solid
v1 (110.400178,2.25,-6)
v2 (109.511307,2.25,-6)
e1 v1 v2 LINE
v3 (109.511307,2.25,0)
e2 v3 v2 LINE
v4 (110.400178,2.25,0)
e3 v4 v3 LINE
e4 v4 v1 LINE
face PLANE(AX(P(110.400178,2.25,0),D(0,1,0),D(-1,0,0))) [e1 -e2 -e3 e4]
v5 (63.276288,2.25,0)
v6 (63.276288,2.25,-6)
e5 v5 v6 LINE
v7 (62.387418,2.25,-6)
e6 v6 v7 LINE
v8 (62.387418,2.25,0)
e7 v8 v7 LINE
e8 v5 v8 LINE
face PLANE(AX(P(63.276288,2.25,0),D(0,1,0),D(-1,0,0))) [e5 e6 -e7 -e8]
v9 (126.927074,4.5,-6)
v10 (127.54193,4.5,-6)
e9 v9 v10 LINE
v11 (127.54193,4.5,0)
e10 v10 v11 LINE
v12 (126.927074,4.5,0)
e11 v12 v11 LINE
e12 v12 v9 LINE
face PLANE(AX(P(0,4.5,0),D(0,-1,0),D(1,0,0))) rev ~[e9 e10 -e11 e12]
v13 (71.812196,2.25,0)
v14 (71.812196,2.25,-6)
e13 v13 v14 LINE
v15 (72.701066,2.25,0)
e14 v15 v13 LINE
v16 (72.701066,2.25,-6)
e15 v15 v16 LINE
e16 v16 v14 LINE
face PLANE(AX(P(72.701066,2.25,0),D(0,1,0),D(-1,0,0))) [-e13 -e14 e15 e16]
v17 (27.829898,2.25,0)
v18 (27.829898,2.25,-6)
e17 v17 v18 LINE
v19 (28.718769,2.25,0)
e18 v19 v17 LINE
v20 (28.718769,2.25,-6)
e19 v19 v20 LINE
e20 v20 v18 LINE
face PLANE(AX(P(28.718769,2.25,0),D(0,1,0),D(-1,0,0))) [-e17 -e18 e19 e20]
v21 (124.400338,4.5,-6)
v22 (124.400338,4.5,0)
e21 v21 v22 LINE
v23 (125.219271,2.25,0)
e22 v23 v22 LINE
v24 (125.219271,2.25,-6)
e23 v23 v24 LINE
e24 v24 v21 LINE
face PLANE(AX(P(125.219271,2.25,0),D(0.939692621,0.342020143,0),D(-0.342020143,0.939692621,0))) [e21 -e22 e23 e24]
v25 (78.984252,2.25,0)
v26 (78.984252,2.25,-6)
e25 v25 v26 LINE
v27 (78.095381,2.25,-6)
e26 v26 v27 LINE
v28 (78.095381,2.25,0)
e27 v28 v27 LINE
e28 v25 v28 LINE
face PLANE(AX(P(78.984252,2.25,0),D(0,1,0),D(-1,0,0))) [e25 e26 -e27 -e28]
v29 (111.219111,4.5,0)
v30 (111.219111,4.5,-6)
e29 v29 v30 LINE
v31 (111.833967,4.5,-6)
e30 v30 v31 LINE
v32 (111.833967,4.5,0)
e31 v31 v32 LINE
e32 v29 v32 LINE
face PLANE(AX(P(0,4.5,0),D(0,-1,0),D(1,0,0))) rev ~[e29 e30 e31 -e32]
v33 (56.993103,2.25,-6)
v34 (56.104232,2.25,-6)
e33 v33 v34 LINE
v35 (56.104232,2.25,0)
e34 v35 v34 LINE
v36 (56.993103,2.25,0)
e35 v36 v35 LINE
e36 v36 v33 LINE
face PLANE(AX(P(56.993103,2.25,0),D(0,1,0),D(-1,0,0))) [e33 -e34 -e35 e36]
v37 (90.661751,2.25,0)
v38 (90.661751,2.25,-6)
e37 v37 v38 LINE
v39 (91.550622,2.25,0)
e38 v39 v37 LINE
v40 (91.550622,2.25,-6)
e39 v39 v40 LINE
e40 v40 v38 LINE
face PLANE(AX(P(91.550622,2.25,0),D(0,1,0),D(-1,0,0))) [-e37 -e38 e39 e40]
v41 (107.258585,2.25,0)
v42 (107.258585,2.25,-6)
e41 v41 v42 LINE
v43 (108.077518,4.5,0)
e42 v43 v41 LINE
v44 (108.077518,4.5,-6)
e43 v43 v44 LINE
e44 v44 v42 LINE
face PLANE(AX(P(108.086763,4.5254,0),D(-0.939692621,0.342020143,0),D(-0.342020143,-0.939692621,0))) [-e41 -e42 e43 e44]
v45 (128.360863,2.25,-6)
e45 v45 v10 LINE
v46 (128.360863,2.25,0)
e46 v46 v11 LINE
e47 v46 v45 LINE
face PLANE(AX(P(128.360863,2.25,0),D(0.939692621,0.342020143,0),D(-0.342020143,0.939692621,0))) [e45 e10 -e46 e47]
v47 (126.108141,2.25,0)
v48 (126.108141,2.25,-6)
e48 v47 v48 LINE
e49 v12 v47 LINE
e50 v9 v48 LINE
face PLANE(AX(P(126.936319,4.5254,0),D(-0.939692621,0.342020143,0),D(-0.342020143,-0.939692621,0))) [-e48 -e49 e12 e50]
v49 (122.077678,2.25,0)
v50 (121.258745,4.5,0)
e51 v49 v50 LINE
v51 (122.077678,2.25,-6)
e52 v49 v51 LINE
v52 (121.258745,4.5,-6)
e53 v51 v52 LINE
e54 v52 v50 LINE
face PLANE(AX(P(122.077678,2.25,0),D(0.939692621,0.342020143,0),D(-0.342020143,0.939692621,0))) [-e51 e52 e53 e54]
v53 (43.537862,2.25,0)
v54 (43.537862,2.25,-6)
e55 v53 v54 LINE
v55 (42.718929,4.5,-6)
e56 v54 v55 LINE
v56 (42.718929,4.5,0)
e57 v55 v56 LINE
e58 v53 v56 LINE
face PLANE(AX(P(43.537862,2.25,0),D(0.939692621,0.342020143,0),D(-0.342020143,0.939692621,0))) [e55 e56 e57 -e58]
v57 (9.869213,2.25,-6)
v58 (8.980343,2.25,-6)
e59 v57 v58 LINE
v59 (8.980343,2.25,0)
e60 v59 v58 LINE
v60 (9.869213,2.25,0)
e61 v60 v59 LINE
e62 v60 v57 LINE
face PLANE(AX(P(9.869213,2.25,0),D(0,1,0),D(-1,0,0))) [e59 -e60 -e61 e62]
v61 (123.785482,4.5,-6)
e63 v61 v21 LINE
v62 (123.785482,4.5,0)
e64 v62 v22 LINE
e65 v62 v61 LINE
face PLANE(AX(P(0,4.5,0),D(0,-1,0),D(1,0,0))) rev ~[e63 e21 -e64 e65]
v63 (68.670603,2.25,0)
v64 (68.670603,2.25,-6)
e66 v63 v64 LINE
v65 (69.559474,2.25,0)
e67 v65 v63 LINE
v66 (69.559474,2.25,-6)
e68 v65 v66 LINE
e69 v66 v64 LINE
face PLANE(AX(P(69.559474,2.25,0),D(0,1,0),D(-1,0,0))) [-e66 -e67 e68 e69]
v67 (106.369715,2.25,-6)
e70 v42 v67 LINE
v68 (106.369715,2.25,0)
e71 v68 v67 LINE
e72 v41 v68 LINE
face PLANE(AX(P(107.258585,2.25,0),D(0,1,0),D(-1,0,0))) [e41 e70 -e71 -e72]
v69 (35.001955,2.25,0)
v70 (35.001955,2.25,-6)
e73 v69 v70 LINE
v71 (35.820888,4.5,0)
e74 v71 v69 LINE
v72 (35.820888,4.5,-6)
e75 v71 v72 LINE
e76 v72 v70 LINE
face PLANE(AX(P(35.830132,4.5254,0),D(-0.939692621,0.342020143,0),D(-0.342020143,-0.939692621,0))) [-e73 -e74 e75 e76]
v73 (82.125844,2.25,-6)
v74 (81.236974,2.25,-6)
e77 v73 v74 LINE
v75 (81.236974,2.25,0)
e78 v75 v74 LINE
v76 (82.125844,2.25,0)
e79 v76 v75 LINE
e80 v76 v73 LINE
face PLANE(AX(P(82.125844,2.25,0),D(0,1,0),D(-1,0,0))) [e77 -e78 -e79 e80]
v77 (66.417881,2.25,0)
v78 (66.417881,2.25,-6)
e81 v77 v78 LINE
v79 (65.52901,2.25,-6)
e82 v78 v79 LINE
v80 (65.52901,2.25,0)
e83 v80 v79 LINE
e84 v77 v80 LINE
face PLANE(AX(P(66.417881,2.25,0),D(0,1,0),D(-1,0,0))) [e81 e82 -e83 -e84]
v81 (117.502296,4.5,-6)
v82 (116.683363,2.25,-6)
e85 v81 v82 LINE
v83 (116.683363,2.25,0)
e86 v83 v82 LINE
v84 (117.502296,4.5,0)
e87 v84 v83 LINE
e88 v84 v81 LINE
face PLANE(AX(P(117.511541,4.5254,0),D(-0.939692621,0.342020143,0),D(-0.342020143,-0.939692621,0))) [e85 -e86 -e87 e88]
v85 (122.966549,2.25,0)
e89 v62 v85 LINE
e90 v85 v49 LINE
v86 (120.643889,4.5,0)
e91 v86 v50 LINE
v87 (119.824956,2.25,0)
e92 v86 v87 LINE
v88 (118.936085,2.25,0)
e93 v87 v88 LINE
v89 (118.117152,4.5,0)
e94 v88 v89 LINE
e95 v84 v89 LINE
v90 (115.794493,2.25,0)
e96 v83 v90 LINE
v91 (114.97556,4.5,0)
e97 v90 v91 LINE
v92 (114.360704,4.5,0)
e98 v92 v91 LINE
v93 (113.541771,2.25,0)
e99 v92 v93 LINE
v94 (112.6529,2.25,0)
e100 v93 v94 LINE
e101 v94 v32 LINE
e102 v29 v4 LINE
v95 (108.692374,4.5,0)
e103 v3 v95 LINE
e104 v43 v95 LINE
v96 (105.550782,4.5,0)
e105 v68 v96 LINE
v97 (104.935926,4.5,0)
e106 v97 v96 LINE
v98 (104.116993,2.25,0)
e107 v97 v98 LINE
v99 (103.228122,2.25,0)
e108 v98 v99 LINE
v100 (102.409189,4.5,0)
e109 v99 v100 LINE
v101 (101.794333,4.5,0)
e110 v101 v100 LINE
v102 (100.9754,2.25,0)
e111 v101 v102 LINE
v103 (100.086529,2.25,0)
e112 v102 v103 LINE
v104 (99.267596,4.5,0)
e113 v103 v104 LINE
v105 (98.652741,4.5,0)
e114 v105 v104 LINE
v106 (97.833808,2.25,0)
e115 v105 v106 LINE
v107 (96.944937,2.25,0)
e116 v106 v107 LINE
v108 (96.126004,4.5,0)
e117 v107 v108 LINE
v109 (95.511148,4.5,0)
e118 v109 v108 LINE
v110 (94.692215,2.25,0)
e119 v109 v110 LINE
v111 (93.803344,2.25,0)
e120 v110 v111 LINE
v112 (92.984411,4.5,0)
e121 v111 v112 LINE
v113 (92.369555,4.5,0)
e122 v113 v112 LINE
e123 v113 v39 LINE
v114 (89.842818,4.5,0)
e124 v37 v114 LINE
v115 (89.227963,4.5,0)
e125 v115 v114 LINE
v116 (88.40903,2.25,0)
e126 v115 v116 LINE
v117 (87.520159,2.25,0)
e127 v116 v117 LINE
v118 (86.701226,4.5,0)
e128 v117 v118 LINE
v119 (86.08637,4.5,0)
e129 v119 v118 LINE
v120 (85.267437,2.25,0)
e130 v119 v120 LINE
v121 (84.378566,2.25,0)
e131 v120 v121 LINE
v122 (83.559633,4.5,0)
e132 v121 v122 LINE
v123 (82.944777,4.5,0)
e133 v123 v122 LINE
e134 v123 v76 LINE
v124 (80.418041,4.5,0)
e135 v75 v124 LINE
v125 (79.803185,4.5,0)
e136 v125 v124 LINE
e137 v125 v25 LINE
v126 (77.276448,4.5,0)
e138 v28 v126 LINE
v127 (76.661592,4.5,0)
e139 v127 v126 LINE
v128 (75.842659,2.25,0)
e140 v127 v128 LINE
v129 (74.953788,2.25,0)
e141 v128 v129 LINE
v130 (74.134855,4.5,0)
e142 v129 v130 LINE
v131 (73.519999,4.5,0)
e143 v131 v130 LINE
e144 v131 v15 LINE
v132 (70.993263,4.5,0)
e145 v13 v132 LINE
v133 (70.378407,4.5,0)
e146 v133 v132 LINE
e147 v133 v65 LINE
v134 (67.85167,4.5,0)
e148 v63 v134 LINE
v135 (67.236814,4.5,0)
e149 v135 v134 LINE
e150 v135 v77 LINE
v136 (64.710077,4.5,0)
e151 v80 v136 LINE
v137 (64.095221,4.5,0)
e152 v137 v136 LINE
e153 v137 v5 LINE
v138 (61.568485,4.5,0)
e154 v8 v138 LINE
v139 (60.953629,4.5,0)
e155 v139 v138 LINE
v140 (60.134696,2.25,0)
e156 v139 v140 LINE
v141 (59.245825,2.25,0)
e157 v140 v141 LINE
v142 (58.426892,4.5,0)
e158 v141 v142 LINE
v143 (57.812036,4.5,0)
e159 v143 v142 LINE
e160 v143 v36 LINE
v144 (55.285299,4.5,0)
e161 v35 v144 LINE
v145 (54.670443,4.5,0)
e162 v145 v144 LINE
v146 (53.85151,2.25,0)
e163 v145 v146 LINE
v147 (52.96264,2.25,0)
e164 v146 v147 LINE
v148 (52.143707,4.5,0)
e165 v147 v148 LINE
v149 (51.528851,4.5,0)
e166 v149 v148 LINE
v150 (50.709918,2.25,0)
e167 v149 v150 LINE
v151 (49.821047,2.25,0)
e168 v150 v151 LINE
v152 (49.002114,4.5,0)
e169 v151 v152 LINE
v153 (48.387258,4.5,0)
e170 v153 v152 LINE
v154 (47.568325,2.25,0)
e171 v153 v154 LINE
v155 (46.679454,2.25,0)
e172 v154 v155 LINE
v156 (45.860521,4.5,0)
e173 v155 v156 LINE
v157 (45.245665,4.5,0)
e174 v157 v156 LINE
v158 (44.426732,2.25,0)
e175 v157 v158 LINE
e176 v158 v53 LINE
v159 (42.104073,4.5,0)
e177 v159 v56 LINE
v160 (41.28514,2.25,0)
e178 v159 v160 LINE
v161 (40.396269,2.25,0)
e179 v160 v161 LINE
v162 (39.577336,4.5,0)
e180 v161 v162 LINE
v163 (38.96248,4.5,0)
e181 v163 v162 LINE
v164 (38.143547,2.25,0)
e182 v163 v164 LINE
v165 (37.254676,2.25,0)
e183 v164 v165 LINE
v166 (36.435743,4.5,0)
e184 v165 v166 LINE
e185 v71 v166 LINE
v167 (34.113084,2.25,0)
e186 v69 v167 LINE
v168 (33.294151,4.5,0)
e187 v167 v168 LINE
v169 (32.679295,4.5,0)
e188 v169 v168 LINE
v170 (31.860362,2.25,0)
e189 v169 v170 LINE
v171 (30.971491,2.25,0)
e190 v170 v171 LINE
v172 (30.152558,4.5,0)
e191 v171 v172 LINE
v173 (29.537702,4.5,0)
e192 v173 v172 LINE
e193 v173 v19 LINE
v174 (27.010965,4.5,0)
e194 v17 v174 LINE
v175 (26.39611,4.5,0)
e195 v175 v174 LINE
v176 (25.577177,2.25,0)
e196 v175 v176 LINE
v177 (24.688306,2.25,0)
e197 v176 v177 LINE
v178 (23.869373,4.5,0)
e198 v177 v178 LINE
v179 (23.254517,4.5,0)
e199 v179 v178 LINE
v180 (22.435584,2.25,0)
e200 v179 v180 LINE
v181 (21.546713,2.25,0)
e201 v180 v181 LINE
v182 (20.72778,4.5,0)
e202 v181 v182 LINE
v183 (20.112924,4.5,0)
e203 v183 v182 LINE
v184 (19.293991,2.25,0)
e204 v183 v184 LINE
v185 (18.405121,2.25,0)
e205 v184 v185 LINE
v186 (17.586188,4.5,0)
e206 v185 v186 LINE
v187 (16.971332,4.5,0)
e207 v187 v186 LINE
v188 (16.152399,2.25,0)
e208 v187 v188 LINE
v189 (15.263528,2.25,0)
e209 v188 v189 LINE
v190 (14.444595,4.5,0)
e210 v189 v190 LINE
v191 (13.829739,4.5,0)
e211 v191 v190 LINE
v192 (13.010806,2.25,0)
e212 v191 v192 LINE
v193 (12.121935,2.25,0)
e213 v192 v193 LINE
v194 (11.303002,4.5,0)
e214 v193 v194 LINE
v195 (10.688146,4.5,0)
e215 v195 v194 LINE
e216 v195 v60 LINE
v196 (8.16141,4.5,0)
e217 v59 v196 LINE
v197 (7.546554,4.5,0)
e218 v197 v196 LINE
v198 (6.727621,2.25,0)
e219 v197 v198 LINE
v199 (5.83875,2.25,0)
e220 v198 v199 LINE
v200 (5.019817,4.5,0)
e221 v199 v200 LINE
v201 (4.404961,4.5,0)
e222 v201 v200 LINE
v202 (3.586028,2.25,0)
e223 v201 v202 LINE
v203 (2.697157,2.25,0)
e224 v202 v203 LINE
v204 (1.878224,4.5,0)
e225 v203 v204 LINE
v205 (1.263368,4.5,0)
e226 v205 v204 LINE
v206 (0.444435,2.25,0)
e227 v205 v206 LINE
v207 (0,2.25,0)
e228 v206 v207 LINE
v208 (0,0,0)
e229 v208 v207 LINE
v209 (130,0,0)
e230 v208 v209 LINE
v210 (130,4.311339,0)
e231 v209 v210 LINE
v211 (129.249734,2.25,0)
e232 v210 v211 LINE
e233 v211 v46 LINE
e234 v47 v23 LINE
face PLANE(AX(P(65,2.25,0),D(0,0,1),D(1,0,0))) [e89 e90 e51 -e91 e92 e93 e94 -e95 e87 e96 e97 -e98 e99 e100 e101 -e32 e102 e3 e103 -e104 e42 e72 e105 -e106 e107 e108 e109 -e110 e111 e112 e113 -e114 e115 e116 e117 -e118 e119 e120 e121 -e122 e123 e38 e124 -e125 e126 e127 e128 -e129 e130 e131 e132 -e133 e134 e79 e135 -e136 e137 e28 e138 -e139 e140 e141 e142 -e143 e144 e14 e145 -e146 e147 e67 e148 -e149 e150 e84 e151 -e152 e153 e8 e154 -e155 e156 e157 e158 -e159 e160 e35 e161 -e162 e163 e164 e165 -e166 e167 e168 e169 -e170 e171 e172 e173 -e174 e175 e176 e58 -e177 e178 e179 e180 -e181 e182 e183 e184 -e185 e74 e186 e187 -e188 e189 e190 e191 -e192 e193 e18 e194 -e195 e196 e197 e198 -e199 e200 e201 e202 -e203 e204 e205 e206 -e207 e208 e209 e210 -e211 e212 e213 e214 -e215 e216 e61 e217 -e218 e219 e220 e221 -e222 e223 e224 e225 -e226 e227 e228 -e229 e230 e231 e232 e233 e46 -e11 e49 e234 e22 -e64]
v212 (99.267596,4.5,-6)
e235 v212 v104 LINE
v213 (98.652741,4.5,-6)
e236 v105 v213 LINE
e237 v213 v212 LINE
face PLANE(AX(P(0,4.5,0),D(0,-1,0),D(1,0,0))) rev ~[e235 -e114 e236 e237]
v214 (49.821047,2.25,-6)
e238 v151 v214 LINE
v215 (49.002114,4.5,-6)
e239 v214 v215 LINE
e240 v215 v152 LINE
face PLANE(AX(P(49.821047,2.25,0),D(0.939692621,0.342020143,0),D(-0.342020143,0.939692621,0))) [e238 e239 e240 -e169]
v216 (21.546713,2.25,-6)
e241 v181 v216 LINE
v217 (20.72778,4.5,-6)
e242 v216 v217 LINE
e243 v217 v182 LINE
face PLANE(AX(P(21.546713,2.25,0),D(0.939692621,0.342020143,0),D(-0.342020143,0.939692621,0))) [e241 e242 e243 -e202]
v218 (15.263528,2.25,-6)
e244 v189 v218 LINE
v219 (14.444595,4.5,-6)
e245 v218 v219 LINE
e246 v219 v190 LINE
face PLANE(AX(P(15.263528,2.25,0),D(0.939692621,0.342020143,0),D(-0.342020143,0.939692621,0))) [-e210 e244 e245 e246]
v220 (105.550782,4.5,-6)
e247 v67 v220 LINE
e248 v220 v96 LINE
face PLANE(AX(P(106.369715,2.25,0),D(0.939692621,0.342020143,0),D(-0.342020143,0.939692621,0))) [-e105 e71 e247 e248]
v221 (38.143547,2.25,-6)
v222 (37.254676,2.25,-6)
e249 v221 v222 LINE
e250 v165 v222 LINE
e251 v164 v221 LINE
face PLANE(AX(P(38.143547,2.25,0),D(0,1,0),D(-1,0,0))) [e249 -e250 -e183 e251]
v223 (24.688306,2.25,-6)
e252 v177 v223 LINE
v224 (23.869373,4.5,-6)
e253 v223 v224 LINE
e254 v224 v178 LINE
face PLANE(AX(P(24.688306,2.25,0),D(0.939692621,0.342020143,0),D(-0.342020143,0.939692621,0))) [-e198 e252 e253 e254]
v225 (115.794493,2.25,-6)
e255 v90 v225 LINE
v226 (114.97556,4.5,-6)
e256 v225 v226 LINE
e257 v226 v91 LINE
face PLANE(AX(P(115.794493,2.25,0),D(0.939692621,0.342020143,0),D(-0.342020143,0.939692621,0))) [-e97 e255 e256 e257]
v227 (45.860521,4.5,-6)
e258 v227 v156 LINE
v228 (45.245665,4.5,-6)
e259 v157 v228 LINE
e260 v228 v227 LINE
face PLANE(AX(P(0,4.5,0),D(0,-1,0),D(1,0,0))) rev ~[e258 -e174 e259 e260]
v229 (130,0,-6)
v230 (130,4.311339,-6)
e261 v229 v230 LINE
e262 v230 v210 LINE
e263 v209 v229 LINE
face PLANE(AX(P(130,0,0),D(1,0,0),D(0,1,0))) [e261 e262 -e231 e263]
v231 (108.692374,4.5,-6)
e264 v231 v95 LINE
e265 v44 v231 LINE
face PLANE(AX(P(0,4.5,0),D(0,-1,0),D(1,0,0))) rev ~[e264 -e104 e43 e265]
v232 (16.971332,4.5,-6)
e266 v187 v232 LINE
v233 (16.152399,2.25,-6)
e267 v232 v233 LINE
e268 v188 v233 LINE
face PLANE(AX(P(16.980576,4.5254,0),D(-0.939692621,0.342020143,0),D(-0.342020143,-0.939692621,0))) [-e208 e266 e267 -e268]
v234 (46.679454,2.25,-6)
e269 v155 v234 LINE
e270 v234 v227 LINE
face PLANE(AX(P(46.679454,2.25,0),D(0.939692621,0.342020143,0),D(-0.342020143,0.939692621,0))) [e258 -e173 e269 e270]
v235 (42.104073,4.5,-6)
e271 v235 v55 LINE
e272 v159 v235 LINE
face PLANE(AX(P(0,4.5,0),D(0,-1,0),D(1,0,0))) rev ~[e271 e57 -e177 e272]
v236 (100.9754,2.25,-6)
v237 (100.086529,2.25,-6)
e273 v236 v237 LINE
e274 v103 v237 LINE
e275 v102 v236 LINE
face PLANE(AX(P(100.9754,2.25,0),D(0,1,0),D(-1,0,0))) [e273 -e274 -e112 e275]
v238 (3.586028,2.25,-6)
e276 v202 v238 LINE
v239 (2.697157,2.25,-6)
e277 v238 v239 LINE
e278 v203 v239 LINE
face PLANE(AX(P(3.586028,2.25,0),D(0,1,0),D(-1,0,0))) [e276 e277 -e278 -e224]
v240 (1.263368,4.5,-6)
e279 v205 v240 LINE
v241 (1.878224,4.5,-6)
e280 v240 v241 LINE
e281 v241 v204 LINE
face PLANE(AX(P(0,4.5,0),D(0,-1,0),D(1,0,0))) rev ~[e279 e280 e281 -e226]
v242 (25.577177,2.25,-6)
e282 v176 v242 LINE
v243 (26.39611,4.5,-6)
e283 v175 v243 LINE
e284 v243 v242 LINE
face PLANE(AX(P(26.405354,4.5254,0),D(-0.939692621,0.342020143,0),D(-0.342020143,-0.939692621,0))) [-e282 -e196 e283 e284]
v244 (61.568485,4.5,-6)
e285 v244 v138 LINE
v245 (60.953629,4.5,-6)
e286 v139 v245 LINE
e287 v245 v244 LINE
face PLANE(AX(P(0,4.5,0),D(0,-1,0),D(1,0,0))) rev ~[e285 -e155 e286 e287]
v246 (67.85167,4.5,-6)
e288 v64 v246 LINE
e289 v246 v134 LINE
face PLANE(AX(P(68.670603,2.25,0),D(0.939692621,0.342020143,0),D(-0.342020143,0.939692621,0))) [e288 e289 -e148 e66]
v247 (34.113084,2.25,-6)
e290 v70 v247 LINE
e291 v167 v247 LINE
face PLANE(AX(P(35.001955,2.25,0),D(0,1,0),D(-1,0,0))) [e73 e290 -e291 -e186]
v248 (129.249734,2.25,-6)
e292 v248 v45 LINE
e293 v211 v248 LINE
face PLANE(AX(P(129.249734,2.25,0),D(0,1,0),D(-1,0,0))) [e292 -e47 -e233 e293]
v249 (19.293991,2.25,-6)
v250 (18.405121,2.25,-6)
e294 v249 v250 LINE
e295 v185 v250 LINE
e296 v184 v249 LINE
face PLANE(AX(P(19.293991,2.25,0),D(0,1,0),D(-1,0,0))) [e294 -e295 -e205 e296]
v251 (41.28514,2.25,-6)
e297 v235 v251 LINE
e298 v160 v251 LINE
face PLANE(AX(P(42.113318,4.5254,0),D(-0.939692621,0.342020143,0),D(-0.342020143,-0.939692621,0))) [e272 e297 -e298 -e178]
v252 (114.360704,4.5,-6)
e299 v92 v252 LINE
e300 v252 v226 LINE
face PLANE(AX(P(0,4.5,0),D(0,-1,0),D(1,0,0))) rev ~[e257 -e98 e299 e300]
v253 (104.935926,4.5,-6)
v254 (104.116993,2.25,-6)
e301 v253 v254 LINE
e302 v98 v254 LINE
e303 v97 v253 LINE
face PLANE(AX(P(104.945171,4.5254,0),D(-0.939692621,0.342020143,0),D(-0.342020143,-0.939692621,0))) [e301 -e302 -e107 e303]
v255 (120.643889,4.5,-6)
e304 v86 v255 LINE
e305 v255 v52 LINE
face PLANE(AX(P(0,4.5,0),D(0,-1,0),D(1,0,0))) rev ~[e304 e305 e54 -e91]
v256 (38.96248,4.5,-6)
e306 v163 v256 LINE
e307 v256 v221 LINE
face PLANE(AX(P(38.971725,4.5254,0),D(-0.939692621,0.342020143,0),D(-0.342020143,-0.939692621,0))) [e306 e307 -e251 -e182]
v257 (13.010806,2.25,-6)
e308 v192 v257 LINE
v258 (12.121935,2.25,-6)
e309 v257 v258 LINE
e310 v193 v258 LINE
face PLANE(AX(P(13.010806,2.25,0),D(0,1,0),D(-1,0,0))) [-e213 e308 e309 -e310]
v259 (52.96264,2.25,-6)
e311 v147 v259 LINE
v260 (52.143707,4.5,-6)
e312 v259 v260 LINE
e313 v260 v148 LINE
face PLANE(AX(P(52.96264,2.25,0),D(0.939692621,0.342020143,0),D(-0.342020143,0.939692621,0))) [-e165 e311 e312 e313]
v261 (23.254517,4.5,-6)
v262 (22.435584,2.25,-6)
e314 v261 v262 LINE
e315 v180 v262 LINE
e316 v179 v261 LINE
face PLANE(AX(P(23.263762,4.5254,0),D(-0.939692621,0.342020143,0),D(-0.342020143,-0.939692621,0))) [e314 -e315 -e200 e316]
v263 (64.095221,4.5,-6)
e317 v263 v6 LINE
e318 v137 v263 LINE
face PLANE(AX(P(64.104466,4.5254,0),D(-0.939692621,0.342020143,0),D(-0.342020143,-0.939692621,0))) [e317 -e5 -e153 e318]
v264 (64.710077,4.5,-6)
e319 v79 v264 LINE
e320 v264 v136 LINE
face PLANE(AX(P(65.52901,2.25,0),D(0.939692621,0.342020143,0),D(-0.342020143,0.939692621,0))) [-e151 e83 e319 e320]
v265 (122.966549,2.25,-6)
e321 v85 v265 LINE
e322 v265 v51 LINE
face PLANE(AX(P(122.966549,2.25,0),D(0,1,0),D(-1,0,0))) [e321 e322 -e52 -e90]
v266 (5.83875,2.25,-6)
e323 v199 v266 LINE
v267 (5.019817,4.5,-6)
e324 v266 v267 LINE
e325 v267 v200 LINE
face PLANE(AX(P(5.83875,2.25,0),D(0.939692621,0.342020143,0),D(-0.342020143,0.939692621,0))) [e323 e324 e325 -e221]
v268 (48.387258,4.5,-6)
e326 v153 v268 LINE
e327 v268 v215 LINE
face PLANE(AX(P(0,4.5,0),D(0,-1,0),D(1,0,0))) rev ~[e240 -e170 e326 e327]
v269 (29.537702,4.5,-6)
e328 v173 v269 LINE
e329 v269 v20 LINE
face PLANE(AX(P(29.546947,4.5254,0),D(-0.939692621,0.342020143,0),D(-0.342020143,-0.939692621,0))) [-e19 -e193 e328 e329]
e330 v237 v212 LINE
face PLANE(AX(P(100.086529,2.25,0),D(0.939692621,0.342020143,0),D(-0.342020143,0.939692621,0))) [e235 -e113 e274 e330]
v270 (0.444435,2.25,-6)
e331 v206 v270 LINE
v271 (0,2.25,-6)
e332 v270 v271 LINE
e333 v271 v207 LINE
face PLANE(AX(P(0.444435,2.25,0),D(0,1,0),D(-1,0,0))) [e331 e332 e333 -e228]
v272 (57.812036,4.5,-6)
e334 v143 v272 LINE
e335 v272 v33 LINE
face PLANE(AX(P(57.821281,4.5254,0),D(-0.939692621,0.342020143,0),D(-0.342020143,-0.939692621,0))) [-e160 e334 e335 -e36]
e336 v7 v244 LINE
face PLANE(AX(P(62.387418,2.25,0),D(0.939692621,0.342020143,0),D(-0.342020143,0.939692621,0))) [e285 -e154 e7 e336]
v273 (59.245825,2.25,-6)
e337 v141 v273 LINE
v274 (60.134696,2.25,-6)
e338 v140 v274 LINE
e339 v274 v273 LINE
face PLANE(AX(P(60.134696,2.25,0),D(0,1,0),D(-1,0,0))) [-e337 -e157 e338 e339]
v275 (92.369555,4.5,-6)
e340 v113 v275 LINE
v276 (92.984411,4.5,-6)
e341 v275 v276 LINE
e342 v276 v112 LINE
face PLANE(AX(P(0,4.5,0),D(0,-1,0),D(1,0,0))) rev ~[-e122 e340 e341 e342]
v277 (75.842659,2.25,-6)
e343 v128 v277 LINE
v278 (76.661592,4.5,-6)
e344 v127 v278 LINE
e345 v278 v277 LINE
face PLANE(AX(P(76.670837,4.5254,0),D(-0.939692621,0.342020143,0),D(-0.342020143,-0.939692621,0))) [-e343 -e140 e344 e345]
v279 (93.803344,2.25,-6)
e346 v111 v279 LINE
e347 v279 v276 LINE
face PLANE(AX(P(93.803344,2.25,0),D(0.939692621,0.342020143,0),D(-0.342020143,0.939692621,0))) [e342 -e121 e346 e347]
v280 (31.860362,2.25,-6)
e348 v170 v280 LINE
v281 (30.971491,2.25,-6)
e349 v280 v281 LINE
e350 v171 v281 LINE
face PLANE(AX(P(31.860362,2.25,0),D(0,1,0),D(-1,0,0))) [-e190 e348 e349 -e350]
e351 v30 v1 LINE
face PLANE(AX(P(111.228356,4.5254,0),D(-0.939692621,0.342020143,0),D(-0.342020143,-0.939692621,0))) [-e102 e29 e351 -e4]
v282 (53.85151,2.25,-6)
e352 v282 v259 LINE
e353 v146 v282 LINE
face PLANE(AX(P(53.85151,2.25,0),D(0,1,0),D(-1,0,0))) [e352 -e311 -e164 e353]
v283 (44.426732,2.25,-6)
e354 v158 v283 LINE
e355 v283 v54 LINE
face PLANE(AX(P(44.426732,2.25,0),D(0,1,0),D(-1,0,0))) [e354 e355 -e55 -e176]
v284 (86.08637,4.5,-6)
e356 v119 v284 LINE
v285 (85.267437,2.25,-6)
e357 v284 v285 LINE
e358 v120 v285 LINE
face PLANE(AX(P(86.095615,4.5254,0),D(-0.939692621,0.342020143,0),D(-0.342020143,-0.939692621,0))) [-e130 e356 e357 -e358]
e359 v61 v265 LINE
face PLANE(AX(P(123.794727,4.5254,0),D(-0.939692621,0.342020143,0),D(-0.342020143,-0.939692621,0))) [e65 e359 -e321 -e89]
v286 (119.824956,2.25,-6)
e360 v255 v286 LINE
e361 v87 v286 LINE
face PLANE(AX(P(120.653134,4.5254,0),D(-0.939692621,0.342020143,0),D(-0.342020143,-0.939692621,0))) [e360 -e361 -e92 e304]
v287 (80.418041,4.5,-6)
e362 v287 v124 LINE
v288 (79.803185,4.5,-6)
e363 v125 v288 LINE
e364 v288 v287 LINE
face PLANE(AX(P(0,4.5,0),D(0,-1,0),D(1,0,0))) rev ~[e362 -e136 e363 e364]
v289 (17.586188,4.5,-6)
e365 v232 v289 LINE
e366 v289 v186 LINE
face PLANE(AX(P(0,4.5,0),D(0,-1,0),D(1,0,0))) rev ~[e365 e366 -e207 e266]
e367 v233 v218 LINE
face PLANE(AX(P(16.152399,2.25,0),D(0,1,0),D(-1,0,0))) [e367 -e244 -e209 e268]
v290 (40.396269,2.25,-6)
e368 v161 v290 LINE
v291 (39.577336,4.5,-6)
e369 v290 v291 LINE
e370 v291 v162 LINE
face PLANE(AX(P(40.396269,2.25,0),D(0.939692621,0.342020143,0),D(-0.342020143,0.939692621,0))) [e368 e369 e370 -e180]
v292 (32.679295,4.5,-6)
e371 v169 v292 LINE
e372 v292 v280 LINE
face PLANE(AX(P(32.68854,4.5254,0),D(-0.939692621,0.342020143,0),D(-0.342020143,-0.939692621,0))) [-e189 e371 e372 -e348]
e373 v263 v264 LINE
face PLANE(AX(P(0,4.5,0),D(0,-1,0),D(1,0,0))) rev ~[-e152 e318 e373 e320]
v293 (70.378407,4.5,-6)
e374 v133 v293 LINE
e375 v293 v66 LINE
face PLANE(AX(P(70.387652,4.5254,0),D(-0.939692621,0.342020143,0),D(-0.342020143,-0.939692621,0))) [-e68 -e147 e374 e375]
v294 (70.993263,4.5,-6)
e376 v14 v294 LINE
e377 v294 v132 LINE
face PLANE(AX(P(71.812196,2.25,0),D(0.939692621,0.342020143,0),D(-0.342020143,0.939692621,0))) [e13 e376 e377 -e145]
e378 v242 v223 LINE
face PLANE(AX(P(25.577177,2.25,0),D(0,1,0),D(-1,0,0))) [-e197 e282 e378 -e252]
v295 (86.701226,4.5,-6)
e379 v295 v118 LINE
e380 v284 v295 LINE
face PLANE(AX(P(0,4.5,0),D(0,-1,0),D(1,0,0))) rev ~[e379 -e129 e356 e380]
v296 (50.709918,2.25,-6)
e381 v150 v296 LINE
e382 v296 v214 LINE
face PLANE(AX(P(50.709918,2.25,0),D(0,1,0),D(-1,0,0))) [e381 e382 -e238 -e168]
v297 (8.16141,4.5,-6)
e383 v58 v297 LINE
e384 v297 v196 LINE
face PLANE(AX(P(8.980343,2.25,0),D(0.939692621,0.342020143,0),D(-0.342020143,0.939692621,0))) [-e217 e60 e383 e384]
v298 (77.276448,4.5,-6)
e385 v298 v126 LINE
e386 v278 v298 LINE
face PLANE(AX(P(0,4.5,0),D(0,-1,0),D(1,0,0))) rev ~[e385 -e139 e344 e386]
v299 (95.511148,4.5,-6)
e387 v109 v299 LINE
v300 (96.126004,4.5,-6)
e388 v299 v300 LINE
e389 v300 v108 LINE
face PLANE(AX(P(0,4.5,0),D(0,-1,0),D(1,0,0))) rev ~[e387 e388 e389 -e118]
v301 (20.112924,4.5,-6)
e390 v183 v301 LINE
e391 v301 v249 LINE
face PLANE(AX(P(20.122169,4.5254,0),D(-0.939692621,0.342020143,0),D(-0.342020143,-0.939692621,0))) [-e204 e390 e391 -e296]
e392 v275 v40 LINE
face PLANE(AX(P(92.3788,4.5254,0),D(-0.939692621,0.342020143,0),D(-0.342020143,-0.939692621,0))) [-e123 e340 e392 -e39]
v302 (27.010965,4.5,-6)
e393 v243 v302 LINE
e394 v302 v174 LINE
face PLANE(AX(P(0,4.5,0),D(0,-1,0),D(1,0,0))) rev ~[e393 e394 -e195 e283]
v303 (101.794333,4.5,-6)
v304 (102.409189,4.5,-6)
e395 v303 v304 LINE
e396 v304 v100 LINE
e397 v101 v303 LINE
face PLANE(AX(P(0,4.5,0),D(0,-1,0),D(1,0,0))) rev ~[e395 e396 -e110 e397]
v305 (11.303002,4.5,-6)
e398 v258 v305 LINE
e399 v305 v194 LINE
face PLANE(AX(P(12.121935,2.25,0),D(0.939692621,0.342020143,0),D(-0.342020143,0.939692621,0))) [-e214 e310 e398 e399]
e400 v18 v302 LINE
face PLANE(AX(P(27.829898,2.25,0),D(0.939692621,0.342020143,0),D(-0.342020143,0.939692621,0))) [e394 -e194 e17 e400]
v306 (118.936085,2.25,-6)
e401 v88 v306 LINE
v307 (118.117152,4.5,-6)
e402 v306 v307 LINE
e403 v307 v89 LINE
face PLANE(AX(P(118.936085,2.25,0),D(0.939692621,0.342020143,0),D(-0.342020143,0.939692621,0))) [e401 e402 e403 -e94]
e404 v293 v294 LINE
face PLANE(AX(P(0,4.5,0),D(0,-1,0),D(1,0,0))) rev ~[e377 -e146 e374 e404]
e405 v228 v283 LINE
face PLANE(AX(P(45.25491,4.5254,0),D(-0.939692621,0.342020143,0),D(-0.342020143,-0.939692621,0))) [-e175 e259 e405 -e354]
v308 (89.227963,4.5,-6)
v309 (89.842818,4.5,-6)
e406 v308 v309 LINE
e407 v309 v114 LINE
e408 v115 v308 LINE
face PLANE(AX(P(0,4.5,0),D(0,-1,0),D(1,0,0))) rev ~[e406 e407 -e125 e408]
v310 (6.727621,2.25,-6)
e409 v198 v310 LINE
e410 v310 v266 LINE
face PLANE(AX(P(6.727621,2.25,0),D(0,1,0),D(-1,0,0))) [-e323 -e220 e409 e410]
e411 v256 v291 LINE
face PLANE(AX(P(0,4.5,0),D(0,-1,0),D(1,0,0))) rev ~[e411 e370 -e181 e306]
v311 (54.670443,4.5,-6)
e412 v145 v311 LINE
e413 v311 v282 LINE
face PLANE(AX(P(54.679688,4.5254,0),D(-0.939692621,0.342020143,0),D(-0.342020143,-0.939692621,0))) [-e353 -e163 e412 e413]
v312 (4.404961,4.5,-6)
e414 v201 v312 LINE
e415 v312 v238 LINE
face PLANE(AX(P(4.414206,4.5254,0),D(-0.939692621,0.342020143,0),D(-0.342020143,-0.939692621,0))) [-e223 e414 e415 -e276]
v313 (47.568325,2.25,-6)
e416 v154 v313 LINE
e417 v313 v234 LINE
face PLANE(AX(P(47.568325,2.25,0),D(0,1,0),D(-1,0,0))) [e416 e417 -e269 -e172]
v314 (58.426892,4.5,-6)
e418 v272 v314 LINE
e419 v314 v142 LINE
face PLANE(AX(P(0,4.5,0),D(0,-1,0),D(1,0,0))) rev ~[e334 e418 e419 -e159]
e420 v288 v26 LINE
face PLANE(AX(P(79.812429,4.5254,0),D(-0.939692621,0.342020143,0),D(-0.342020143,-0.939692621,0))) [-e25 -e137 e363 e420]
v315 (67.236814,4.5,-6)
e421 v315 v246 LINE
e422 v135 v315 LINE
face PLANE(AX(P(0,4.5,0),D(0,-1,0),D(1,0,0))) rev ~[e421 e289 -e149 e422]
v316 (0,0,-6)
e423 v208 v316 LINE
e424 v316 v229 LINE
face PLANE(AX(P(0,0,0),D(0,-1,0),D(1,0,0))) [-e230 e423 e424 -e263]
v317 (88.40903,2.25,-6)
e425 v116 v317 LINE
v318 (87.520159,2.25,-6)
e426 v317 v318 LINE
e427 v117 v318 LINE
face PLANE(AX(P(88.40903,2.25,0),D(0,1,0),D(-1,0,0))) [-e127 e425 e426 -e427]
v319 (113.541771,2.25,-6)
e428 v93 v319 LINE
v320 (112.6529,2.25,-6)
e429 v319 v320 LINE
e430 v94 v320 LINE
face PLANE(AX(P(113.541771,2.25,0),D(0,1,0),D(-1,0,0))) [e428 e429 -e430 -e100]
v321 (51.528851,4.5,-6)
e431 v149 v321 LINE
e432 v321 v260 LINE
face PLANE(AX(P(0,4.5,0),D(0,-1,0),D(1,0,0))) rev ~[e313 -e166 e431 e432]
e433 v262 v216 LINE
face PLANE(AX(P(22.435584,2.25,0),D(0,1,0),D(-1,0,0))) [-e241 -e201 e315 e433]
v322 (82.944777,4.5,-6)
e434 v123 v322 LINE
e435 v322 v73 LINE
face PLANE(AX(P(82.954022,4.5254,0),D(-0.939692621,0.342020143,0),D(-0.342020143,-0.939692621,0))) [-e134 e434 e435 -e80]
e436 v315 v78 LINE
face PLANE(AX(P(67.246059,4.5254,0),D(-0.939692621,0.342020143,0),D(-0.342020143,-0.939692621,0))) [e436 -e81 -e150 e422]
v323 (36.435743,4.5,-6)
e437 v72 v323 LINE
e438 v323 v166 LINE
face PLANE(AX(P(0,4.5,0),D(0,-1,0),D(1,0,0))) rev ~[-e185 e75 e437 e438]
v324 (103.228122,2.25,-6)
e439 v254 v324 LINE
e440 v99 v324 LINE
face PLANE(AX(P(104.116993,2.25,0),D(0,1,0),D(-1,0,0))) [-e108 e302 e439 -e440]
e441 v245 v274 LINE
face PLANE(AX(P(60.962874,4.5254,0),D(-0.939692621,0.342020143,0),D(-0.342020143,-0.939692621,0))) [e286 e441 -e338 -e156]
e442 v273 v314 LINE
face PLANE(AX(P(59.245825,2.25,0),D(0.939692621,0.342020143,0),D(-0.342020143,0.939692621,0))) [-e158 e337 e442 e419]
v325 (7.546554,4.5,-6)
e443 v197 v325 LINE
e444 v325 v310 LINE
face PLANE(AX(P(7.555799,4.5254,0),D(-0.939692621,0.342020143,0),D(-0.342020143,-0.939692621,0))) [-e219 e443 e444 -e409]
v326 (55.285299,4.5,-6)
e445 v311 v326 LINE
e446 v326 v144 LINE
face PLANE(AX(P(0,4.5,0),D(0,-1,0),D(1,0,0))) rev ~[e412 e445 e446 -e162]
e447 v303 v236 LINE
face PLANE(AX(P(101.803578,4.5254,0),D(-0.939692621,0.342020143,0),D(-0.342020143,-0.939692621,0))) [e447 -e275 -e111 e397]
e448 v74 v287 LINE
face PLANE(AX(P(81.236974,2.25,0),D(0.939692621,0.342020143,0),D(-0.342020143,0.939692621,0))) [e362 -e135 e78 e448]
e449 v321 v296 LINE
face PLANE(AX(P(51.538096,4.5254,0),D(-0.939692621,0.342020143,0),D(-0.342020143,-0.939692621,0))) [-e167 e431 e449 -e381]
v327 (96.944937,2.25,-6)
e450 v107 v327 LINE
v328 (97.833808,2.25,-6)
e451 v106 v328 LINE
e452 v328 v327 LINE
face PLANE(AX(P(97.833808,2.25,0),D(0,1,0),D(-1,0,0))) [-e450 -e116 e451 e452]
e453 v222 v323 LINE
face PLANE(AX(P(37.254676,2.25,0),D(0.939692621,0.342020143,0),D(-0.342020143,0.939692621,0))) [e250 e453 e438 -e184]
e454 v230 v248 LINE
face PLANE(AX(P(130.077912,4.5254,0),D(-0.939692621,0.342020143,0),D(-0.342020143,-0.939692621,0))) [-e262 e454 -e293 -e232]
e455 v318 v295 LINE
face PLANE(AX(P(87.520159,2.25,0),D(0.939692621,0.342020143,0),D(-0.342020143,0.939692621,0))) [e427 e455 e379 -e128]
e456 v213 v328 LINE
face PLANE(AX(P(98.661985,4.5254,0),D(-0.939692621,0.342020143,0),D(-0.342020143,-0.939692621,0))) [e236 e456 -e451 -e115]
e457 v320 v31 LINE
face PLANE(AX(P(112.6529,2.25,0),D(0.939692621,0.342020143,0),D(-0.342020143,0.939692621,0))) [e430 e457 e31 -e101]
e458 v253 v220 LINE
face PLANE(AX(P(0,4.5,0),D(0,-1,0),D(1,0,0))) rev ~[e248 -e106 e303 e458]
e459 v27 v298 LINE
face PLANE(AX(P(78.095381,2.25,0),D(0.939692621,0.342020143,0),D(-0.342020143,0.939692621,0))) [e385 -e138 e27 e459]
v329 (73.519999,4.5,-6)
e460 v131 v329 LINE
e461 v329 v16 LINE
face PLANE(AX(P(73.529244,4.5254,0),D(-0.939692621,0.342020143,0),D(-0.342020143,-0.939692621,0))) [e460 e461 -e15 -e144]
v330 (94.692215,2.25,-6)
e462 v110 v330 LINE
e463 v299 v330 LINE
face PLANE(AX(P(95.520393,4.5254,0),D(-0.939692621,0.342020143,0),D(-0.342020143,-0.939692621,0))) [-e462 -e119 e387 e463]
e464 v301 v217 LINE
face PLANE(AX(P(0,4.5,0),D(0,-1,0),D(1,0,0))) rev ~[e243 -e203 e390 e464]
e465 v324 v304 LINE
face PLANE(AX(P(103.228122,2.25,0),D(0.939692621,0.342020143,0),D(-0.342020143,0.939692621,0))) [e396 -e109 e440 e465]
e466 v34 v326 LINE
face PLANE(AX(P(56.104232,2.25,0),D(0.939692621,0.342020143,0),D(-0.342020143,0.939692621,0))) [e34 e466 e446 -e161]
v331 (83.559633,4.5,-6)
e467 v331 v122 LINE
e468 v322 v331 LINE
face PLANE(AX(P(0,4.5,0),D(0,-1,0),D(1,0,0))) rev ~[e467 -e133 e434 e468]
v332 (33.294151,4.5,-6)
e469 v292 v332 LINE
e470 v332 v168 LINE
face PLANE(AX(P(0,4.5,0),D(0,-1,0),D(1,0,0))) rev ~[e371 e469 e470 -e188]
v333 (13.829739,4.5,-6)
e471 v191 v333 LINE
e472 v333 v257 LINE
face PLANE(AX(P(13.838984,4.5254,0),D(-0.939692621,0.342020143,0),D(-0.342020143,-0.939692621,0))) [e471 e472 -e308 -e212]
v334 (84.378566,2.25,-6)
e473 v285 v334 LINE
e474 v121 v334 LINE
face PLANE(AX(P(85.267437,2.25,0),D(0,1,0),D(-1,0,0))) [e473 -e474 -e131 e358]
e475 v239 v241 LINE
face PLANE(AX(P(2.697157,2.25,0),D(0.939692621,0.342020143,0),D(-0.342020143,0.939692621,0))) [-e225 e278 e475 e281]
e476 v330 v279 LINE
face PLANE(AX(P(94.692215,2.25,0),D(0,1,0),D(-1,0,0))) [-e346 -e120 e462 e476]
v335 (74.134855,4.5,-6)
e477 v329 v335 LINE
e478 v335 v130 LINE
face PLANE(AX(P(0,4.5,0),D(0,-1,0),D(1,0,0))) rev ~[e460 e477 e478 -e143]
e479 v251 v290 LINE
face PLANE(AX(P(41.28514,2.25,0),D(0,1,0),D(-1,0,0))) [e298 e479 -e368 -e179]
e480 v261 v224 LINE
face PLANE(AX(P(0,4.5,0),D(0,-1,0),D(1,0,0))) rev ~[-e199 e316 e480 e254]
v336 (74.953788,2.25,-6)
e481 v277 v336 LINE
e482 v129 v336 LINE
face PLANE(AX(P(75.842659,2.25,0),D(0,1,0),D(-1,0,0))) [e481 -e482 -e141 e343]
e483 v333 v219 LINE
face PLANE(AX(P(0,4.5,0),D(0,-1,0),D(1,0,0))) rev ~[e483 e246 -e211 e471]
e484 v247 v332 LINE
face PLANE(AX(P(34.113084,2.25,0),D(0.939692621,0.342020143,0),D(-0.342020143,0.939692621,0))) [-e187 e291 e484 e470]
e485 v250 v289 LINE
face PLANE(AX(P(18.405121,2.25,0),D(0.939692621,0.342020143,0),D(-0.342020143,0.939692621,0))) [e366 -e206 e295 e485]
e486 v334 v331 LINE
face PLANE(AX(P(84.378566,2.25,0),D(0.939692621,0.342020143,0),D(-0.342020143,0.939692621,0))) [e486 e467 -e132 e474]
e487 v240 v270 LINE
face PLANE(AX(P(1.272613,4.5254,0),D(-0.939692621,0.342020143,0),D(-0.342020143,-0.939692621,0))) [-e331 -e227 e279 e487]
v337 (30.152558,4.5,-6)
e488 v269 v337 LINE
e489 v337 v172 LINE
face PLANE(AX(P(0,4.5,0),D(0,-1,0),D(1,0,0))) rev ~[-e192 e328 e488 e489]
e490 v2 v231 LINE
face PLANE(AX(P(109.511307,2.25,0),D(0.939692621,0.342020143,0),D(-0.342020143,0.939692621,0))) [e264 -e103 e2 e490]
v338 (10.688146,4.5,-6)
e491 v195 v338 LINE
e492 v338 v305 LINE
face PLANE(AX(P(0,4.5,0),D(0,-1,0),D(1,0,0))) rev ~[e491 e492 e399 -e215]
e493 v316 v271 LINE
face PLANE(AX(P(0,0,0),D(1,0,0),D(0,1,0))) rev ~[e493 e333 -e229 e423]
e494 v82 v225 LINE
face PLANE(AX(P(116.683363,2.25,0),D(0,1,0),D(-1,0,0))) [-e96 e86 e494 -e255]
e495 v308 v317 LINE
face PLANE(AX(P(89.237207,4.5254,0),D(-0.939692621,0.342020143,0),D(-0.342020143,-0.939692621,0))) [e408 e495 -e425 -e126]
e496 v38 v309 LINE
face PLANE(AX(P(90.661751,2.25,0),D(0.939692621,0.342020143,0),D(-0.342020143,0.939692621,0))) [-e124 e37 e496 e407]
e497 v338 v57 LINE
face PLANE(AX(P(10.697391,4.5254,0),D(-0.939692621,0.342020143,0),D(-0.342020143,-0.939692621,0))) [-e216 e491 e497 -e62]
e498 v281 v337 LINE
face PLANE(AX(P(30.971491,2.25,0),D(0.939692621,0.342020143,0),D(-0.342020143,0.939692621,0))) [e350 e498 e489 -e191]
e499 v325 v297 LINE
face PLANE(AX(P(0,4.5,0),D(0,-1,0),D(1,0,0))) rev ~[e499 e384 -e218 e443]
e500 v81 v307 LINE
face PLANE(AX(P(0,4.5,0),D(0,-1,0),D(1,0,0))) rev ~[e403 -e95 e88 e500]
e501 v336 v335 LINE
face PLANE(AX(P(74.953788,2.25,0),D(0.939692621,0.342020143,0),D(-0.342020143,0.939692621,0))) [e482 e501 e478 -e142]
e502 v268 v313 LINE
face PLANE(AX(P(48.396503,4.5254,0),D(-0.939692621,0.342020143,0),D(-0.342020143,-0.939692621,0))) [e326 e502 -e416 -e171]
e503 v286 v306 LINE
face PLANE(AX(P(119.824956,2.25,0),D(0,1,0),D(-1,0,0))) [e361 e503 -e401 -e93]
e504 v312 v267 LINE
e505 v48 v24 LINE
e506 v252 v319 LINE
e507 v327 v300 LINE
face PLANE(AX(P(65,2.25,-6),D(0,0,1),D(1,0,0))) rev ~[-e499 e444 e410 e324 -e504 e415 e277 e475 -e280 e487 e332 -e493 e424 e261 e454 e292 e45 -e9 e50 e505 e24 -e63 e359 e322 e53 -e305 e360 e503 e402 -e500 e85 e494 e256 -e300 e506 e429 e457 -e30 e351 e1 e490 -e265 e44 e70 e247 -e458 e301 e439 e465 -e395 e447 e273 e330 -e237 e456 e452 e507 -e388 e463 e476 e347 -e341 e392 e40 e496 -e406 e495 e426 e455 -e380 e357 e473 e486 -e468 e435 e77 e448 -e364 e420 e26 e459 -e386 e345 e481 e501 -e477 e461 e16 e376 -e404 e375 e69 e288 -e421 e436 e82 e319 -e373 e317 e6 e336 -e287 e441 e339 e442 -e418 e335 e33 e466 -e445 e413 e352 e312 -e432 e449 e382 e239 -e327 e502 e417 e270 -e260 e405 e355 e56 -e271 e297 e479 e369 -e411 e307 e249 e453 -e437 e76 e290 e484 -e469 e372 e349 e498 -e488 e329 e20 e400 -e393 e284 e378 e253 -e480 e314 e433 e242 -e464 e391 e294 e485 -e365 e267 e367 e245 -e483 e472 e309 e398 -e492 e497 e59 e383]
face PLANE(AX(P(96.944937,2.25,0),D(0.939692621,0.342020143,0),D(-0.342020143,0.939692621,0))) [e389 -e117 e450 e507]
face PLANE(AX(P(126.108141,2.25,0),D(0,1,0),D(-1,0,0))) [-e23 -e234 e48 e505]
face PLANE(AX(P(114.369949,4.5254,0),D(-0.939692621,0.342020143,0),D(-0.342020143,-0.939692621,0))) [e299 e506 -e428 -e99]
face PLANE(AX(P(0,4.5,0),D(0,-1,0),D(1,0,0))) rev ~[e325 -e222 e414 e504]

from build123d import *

# Parameters (mm, degrees)
BLANKSKE_W        = 130
BLANKSKE_H        = 4.5
BLANK_DEPTH       = 6
TOOTHCUTSIM_DEPTH = 131.216166431
TEETHCUTS_COUNT   = 42
TEETHCUTS_PITCH   = 3.14159265


with BuildPart() as part:
    # BlankSke → Blank (new body)
    with BuildSketch(Plane.XY):
        with Locations((65, 2.25)):
            Rectangle(BLANKSKE_W, BLANKSKE_H)
    extrude(amount=-BLANK_DEPTH)

    # TooCutSkeSim → ToothCutSim (cut, through all)
    with BuildSketch(Plane.XY):
        Polygon((0.44443537, 2.25), (-0.44443537, 2.25), (-1.272613241, 4.5254), (1.272613241, 4.5254), align=None)
    toothcutsim = extrude(amount=-TOOTHCUTSIM_DEPTH, mode=Mode.SUBTRACT)

    # TeethCuts: ToothCutSim ×42
    with Locations(*[(i * TEETHCUTS_PITCH, 0, 0) for i in range(1, TEETHCUTS_COUNT)]):
        add(toothcutsim, mode=Mode.SUBTRACT)


solid = part.part
